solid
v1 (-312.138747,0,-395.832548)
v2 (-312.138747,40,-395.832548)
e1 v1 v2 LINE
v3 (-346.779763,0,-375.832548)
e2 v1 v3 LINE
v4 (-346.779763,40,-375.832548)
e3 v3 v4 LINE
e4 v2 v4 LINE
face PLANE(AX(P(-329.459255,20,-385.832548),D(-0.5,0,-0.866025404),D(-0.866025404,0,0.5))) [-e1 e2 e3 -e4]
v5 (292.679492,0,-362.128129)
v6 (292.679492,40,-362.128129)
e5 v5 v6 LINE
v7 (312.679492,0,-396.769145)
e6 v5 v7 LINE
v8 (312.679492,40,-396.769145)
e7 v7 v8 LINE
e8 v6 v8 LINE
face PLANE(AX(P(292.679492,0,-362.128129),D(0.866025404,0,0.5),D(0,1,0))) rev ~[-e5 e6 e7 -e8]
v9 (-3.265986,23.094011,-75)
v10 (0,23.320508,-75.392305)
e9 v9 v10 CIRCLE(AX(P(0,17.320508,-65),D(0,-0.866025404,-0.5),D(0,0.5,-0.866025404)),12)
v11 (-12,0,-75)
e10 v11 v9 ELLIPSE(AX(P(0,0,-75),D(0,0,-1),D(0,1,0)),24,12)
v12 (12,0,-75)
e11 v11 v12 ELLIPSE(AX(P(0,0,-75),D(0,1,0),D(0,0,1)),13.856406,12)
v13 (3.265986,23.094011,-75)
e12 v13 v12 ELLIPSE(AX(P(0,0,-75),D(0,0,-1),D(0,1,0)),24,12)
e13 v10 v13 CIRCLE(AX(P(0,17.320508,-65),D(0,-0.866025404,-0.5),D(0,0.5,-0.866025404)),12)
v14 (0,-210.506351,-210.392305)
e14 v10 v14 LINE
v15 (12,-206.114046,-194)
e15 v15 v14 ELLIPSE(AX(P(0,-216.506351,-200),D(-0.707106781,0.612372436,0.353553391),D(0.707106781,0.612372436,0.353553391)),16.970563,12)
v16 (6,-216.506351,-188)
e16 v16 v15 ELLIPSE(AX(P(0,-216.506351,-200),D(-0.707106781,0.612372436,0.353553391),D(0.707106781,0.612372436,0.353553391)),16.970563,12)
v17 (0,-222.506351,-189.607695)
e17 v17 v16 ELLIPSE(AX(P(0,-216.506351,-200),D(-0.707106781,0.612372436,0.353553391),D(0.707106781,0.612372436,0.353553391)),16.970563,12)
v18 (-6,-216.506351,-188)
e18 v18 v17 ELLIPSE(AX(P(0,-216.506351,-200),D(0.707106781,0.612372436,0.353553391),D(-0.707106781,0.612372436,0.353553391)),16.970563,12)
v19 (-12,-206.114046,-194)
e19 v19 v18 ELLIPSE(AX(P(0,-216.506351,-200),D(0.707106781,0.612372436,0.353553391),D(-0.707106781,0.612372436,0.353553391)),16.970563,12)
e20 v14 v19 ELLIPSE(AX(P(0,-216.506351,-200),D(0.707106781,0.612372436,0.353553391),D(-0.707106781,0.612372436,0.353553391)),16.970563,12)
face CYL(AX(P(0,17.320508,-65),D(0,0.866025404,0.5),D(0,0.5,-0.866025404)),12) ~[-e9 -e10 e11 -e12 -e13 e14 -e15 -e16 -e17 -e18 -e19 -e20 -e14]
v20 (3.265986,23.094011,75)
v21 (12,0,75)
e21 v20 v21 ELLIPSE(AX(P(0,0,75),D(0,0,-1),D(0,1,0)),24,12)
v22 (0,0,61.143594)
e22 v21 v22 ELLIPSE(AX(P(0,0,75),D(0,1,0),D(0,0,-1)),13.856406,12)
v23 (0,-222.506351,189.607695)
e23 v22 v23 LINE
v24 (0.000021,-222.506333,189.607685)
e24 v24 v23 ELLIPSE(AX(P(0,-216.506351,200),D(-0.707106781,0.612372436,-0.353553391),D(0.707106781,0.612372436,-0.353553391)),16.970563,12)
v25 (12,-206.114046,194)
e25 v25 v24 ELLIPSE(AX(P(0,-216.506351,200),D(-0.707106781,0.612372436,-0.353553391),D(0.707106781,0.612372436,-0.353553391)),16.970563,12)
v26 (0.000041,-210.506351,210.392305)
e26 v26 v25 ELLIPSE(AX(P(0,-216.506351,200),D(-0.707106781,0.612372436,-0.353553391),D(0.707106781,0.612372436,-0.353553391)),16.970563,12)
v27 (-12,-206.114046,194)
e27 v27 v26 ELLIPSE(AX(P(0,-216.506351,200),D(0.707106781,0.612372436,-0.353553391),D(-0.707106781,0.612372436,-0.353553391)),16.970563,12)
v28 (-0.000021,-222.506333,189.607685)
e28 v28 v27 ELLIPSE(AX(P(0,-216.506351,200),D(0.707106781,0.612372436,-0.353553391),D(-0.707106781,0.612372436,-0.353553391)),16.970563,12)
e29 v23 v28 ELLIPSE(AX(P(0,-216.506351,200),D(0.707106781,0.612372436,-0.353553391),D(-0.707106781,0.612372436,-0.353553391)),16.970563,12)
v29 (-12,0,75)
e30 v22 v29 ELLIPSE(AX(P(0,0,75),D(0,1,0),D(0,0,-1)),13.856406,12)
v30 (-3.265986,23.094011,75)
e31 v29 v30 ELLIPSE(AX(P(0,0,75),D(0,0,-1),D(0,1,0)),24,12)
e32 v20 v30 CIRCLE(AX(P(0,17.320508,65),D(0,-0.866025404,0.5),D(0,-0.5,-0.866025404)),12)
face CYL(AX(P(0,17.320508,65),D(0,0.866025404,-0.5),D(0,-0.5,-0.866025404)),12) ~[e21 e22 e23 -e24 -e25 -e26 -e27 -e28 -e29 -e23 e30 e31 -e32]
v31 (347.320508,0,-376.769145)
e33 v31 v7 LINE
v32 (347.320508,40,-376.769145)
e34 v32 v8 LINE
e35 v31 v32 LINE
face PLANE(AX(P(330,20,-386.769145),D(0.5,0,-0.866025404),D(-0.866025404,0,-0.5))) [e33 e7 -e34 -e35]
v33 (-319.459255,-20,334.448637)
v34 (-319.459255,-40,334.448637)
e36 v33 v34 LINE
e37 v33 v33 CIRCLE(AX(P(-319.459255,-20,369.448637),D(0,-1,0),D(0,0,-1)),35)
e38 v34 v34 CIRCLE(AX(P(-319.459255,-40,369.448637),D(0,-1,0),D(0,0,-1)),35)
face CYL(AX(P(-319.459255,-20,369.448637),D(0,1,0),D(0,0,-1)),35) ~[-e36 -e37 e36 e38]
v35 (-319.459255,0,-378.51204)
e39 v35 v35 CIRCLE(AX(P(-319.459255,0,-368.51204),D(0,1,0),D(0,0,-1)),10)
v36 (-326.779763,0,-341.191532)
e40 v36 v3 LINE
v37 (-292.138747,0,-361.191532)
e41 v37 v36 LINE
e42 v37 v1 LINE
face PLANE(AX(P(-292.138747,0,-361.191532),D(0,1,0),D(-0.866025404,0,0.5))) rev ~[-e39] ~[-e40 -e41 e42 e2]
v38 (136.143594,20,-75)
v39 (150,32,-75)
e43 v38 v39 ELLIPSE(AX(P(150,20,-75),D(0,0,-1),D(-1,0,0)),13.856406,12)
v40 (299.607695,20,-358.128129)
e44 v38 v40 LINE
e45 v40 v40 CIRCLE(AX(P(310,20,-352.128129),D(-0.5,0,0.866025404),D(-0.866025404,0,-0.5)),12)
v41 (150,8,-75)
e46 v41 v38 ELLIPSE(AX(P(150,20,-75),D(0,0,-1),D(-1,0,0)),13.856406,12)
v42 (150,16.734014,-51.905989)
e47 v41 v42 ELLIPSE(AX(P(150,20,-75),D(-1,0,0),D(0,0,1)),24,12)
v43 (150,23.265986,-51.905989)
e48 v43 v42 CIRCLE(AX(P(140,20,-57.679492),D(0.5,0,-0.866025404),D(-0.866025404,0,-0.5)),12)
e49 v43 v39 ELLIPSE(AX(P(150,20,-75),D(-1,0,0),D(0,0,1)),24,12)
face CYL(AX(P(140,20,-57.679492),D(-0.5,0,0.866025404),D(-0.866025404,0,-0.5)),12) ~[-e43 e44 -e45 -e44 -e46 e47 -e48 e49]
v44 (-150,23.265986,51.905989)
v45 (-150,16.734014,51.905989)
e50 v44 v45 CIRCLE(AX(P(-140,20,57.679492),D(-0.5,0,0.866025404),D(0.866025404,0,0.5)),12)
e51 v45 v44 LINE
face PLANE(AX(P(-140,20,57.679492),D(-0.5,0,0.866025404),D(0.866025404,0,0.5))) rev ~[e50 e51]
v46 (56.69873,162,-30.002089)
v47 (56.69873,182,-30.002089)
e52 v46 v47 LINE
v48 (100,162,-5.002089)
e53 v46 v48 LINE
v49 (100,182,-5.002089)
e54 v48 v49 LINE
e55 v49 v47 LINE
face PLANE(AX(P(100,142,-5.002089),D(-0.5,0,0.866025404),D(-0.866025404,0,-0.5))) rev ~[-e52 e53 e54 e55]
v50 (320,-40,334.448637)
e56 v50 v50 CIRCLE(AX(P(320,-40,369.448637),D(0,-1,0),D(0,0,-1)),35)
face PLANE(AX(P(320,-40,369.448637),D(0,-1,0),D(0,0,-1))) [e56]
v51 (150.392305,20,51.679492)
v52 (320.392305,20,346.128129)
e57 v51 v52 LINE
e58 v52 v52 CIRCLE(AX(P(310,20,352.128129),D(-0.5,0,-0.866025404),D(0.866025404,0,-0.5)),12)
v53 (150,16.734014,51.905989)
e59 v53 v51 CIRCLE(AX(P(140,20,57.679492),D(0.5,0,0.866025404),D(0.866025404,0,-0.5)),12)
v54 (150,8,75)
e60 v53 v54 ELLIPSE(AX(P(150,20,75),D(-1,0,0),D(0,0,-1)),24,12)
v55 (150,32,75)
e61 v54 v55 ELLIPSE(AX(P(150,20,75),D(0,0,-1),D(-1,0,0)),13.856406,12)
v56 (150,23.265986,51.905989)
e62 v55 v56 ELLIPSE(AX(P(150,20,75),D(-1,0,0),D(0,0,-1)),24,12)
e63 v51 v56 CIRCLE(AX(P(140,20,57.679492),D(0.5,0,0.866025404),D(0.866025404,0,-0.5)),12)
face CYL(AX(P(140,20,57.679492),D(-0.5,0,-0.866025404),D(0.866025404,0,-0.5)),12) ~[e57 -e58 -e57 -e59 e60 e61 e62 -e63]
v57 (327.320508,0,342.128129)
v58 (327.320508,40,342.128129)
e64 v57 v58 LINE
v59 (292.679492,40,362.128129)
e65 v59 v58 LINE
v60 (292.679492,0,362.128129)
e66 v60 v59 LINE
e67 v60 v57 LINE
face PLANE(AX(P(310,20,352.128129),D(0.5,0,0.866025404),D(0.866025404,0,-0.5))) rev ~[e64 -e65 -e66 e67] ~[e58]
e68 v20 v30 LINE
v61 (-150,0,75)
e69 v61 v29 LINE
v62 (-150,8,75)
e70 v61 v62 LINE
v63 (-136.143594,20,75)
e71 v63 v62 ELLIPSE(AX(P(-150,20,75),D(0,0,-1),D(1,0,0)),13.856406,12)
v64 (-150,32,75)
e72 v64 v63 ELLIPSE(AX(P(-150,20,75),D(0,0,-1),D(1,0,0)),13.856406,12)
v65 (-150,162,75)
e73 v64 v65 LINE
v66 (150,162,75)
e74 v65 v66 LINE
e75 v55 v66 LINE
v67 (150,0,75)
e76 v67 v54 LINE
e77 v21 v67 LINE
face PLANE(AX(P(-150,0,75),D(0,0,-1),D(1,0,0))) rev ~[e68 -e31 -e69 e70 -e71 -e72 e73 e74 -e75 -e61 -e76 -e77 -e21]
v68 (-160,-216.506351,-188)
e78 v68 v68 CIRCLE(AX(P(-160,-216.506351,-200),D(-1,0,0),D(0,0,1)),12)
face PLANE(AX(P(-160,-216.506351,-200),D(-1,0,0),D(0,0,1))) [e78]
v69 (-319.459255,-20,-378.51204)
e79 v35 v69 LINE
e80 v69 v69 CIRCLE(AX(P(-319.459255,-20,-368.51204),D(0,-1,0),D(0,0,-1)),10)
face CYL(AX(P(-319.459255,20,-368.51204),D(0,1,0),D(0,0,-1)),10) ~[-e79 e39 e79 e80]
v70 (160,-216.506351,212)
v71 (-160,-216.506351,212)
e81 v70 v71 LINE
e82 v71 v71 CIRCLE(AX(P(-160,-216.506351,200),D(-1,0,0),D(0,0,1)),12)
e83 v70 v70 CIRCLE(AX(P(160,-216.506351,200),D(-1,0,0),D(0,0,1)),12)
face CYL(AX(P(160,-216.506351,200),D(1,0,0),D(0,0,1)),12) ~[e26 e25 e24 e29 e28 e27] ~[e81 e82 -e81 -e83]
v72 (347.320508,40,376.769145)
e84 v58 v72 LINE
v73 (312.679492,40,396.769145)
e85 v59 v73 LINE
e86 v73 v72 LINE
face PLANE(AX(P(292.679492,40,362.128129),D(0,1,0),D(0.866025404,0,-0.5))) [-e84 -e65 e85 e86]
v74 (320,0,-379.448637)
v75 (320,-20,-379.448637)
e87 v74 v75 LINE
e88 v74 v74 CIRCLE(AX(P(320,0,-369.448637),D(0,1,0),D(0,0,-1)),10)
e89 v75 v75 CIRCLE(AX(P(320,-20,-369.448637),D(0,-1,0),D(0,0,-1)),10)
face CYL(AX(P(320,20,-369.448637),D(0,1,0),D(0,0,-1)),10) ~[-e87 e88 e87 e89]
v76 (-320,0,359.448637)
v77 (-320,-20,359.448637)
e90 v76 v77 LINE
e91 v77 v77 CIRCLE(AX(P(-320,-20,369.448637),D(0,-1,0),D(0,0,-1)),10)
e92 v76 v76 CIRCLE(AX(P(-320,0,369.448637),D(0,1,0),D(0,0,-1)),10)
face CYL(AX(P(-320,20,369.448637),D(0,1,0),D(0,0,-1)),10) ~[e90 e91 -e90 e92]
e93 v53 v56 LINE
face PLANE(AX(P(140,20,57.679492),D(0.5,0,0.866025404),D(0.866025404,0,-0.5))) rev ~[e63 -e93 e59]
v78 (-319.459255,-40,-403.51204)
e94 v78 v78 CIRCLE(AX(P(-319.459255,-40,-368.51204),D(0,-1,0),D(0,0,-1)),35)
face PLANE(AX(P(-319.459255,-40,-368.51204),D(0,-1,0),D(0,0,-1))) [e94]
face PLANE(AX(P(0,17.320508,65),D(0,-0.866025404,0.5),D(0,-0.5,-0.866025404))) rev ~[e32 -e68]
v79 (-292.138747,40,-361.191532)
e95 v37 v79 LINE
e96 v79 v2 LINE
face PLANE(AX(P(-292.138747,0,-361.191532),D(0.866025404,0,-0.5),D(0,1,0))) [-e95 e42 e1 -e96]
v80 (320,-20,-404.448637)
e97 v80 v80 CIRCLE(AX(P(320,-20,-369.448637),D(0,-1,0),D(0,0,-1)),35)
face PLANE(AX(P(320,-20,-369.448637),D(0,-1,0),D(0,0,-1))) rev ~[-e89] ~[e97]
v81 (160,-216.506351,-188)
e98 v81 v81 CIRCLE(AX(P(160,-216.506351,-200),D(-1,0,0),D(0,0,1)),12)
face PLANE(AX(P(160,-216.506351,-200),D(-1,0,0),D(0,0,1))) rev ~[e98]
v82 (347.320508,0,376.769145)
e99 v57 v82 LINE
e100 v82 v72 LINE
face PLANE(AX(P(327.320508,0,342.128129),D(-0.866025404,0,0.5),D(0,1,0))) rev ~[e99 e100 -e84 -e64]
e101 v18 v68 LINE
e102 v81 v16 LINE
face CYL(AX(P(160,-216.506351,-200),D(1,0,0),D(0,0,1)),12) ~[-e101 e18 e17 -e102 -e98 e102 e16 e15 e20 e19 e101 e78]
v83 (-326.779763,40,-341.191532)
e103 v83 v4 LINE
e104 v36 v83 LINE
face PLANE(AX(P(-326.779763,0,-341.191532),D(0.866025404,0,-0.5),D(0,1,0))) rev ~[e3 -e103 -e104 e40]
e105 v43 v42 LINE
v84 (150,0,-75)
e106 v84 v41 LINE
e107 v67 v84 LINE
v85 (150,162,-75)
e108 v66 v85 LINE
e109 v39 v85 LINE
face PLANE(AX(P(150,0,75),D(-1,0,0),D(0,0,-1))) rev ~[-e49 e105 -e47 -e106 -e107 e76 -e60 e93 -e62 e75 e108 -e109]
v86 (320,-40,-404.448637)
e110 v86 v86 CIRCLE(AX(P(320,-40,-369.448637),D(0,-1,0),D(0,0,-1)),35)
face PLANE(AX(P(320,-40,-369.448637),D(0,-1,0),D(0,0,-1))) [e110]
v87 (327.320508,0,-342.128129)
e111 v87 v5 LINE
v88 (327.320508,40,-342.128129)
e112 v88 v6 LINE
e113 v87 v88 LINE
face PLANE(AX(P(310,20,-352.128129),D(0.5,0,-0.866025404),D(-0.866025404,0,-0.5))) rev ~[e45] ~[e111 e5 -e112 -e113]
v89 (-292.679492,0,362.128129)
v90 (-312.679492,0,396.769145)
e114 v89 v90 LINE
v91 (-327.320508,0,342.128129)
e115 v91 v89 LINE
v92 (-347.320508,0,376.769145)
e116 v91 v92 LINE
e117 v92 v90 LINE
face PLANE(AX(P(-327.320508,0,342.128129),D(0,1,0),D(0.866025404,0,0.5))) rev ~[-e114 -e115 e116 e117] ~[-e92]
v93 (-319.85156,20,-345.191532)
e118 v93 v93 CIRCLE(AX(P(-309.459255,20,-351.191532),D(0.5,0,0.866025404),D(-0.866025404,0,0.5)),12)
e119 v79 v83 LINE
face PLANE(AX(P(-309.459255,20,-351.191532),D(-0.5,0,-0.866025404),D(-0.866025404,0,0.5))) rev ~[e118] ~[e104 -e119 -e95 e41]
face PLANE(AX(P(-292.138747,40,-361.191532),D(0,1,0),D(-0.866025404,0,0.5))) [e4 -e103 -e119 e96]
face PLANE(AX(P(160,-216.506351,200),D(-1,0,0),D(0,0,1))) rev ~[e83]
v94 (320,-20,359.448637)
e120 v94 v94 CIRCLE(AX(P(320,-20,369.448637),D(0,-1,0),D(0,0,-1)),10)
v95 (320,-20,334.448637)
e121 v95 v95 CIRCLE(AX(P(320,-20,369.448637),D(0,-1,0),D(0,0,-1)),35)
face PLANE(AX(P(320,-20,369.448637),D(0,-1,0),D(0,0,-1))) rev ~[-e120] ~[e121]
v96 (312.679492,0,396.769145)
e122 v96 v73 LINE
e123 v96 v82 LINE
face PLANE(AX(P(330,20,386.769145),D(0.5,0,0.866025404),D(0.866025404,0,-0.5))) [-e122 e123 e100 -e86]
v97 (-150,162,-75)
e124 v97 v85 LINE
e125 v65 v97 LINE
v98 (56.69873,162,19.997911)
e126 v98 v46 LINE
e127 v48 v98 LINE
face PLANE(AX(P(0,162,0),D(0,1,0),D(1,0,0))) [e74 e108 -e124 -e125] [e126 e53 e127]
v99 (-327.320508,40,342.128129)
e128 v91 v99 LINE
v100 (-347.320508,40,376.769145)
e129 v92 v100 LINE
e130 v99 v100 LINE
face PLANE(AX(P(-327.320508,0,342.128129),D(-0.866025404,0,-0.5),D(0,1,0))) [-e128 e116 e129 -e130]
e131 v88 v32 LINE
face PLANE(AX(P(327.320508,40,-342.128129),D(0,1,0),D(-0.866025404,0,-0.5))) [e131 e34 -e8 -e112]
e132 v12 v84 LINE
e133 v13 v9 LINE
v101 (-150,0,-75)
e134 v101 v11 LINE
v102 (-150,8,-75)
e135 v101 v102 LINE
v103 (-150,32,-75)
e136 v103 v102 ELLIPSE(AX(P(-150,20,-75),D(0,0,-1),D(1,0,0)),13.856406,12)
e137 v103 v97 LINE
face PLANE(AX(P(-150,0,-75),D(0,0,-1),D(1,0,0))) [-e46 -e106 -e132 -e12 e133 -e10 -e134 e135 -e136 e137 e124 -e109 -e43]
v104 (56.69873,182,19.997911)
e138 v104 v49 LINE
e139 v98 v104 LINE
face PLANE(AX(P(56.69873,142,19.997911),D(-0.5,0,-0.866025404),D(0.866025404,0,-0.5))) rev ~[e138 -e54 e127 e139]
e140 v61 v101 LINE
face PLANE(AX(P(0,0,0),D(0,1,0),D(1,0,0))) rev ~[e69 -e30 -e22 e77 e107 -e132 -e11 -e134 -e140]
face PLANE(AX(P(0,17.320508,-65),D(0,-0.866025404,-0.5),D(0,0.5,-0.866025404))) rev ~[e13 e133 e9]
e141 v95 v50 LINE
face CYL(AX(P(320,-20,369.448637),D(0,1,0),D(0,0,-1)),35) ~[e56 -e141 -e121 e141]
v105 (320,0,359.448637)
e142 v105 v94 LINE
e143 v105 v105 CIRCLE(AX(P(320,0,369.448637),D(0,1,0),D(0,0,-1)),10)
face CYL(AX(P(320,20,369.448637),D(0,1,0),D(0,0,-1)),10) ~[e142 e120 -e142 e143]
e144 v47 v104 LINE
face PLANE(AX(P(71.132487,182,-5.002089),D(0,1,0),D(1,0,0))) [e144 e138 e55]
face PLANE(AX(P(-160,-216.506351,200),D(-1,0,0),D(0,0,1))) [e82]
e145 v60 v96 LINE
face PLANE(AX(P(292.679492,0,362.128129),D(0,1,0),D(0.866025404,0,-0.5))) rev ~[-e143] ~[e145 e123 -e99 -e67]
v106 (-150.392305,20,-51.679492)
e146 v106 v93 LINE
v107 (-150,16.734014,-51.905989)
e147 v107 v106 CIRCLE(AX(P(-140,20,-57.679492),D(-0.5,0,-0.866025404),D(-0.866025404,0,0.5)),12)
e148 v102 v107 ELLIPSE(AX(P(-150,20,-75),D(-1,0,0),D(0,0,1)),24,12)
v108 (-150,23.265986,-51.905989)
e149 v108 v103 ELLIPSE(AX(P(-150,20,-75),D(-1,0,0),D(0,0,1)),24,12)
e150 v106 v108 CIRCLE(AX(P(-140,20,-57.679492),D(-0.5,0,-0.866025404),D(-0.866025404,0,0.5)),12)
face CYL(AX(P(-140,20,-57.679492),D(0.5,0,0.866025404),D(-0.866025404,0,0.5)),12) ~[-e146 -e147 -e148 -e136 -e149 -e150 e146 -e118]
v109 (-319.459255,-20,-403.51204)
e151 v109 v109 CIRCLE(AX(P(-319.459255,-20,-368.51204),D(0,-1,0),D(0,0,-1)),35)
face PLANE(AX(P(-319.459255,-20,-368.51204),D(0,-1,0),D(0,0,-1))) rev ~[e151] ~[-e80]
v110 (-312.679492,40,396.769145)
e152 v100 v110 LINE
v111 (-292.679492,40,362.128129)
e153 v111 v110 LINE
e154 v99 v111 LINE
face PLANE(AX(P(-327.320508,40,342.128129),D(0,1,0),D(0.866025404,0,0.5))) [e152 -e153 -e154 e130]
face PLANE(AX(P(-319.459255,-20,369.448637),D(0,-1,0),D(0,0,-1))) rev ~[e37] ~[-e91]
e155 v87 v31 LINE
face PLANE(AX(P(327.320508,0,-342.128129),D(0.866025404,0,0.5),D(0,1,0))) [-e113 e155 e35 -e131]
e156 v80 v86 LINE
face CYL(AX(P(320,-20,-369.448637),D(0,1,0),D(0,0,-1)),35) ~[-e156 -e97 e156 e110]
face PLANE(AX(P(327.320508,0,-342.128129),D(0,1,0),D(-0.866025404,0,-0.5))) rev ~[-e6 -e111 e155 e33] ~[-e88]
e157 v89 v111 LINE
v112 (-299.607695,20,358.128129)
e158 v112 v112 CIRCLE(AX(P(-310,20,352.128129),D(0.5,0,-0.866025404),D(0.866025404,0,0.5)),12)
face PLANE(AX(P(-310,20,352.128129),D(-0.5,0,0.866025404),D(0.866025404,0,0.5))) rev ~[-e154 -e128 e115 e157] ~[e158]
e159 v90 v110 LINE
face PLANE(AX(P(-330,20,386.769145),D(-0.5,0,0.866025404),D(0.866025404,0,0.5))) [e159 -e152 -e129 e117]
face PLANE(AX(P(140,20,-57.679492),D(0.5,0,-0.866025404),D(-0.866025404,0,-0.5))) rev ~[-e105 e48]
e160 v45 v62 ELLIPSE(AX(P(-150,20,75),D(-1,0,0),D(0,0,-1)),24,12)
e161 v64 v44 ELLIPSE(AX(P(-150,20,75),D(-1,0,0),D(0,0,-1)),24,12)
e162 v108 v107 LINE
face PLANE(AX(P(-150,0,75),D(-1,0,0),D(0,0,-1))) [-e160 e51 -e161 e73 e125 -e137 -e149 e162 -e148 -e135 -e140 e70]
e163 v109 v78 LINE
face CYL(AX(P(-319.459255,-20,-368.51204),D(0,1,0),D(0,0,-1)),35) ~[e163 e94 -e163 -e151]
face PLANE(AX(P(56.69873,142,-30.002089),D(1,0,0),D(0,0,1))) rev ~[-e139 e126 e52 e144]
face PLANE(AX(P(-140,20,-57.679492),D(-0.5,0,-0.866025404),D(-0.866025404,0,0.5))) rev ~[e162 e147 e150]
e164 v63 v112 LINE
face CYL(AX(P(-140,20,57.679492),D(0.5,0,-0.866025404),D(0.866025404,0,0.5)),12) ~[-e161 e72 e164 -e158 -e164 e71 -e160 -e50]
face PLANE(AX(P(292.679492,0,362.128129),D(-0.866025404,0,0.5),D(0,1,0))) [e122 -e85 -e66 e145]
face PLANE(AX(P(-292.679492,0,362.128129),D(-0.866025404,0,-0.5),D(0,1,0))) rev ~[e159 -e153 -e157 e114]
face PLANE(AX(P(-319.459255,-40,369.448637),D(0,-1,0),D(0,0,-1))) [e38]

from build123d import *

# Parameters (mm, degrees)
SKETCH_9_W            = 300
SKETCH_9_H            = 150
EXTRUDE_2_DEPTH       = 162
EXTRUDE_3_DEPTH       = 340
EXTRUDE_3_DEPTH_BACK  = 20
SKETCH_10_R           = 12
EXTRUDE_4_DEPTH       = 338.918510241
EXTRUDE_4_DEPTH_BACK  = 20
SKETCH_11_R           = 12
EXTRUDE_5_DEPTH       = 340
EXTRUDE_5_DEPTH_BACK  = 20
SKETCH_13_R           = 12
EXTRUDE_6_DEPTH       = 340
EXTRUDE_6_DEPTH_BACK  = 20
SKETCH_12_R           = 12
EXTRUDE_7_DEPTH       = 20
EXTRUDE_7_DEPTH_BACK  = 20
SKETCH_14_W           = 40
SKETCH_14_H           = 40
EXTRUDE_8_DEPTH       = 20
EXTRUDE_8_DEPTH_BACK  = 20
SKETCH_17_W           = 40
SKETCH_17_H           = 40
EXTRUDE_9_DEPTH       = 20
EXTRUDE_9_DEPTH_BACK  = 20
SKETCH_18_W           = 40
SKETCH_18_H           = 40
EXTRUDE_10_DEPTH      = 20
EXTRUDE_10_DEPTH_BACK = 20
SKETCH_20_W           = 40
SKETCH_20_H           = 40
EXTRUDE_11_DEPTH      = 20
EXTRUDE_11_DEPTH_BACK = 20
SKETCH_21_R           = 10
SKETCH_22_R           = 35
EXTRUDE_12_DEPTH      = 20
EXTRUDE_13_DEPTH      = 250
EXTRUDE_13_DEPTH_BACK = 20
SKETCH_23_R           = 12
EXTRUDE_14_DEPTH      = 250
EXTRUDE_14_DEPTH_BACK = 20
SKETCH_24_R           = 12
EXTRUDE_15_DEPTH      = 20
EXTRUDE_15_DEPTH_BACK = 20
EXTRUDE_16_DEPTH      = 160
EXTRUDE_16_DEPTH_BACK = 160
SKETCH_29_R           = 12


with BuildPart() as part:
    # 草图9 → 凸台-拉伸2 (new body)
    with BuildSketch(Plane(origin=(0, 0, 0), x_dir=(1, 0, 0), z_dir=(0, 1, 0))):
        Rectangle(SKETCH_9_W, SKETCH_9_H)
    extrude(amount=EXTRUDE_2_DEPTH)

    # 草图10 → 凸台-拉伸3 (add, two sides: drawn at the far end of the back side and taken through both)
    with BuildSketch(Plane(origin=(-69.975952642, 0, 121.201905284), x_dir=(0, -1, 0), z_dir=(-0.500000000000001, 0, 0.866025403784438)).offset(-EXTRUDE_3_DEPTH_BACK)):
        with Locations(Location((-20, -92.403810568, 0), (0, 0, 90))):
            Circle(SKETCH_10_R)
    extrude(amount=EXTRUDE_3_DEPTH + EXTRUDE_3_DEPTH_BACK)

    # 草图11 → 凸台-拉伸4 (add, two sides: drawn at the far end of the back side and taken through both)
    with BuildSketch(Plane(origin=(-69.975952642, 0, -121.201905284), x_dir=(0, -1, 0), z_dir=(-0.5000000000000011, 0, -0.866025403784438)).offset(-EXTRUDE_4_DEPTH_BACK)):
        with Locations(Location((-20, 92.403810568, 0), (0, 0, 90))):
            Circle(SKETCH_11_R)
    extrude(amount=EXTRUDE_4_DEPTH + EXTRUDE_4_DEPTH_BACK)

    # 草图13 → 凸台-拉伸5 (add, two sides: drawn at the far end of the back side and taken through both)
    with BuildSketch(Plane(origin=(69.975952642, 0, 121.201905284), x_dir=(0, -1, 0), z_dir=(0.5000000000000011, 0, 0.866025403784438)).offset(-EXTRUDE_5_DEPTH_BACK)):
        with Locations(Location((-20, 92.403810568, 0), (0, 0, 90))):
            Circle(SKETCH_13_R)
    extrude(amount=EXTRUDE_5_DEPTH + EXTRUDE_5_DEPTH_BACK)

    # 草图12 → 凸台-拉伸6 (add, two sides: drawn at the far end of the back side and taken through both)
    with BuildSketch(Plane(origin=(69.975952642, 0, -121.201905284), x_dir=(0, -1, 0), z_dir=(0.5000000000000009, 0, -0.866025403784438)).offset(-EXTRUDE_6_DEPTH_BACK)):
        with Locations(Location((-20, -92.403810568, 0), (0, 0, 90))):
            Circle(SKETCH_12_R)
    extrude(amount=EXTRUDE_6_DEPTH + EXTRUDE_6_DEPTH_BACK)

    # 草图14 → 凸台-拉伸7 (add, two sides: drawn at the far end of the back side and taken through both)
    with BuildSketch(Plane(origin=(-239.975952642, 0, 415.650542571), x_dir=(0.8660254037844382, 0, 0.500000000000001), z_dir=(-0.500000000000001, 0, 0.8660254037844382)).offset(-EXTRUDE_7_DEPTH_BACK)):
        with Locations((-92.403810568, 20)):
            Rectangle(SKETCH_14_W, SKETCH_14_H)
    extrude(amount=EXTRUDE_7_DEPTH + EXTRUDE_7_DEPTH_BACK)

    # 草图17 → 凸台-拉伸8 (add, two sides: drawn at the far end of the back side and taken through both)
    with BuildSketch(Plane(origin=(-239.435207762, 0, -414.713944965), x_dir=(-0.866025403784438, 0, 0.5000000000000012), z_dir=(-0.5000000000000011, 0, -0.8660254037844379)).offset(-EXTRUDE_8_DEPTH_BACK)):
        with Locations((92.403810568, 20)):
            Rectangle(SKETCH_17_W, SKETCH_17_H)
    extrude(amount=EXTRUDE_8_DEPTH + EXTRUDE_8_DEPTH_BACK)

    # 草图18 → 凸台-拉伸9 (add, two sides: drawn at the far end of the back side and taken through both)
    with BuildSketch(Plane(origin=(239.975952642, 0, -415.650542571), x_dir=(-0.866025403784438, 0, -0.5000000000000012), z_dir=(0.5000000000000011, 0, -0.8660254037844379)).offset(-EXTRUDE_9_DEPTH_BACK)):
        with Locations((-92.403810568, 20)):
            Rectangle(SKETCH_18_W, SKETCH_18_H)
    extrude(amount=EXTRUDE_9_DEPTH + EXTRUDE_9_DEPTH_BACK)

    # 草图20 → 凸台-拉伸10 (add, two sides: drawn at the far end of the back side and taken through both)
    with BuildSketch(Plane(origin=(239.975952642, 0, 415.650542571), x_dir=(0.866025403784438, 0, -0.5000000000000012), z_dir=(0.5000000000000011, 0, 0.8660254037844379)).offset(-EXTRUDE_10_DEPTH_BACK)):
        with Locations((92.403810568, 20)):
            Rectangle(SKETCH_20_W, SKETCH_20_H)
    extrude(amount=EXTRUDE_10_DEPTH + EXTRUDE_10_DEPTH_BACK)

    # 草图21 → 凸台-拉伸11 (add, two sides: drawn at the far end of the back side and taken through both)
    with BuildSketch(Plane.XZ.offset(-EXTRUDE_11_DEPTH_BACK)):
        with Locations(Location((-320, 369.448637287, 0), (0, 0, 270))):
            Circle(SKETCH_21_R)
        with Locations(Location((-319.45925512, -368.512039681, 0), (0, 0, 270))):
            Circle(SKETCH_21_R)
        with Locations(Location((320, -369.448637287, 0), (0, 0, 270))):
            Circle(SKETCH_21_R)
        with Locations(Location((320, 369.448637287, 0), (0, 0, 270))):
            Circle(SKETCH_21_R)
    extrude(amount=EXTRUDE_11_DEPTH + EXTRUDE_11_DEPTH_BACK)

    # 草图22 → 凸台-拉伸12 (add)
    with BuildSketch(Plane.XZ.offset(20)):
        with Locations(Location((-319.45925512, -368.512039681, 0), (0, 0, 270))):
            Circle(SKETCH_22_R)
        with Locations(Location((320, -369.448637287, 0), (0, 0, 270))):
            Circle(SKETCH_22_R)
        with Locations(Location((320, 369.448637287, 0), (0, 0, 270))):
            Circle(SKETCH_22_R)
        with Locations(Location((-319.45925512, 369.448637287, 0), (0, 0, 270))):
            Circle(SKETCH_22_R)
    extrude(amount=EXTRUDE_12_DEPTH)

    # 草图23 → 凸台-拉伸13 (add, two sides: drawn at the far end of the back side and taken through both)
    with BuildSketch(Plane(origin=(0, -32.475952642, 18.75), x_dir=(1, 0, 0), z_dir=(0, -0.866025403784438, 0.500000000000001)).offset(-EXTRUDE_13_DEPTH_BACK)):
        with Locations(Location((0, 64.951905284, 0), (0, 0, 270))):
            Circle(SKETCH_23_R)
    extrude(amount=EXTRUDE_13_DEPTH + EXTRUDE_13_DEPTH_BACK)

    # 草图24 → 凸台-拉伸14 (add, two sides: drawn at the far end of the back side and taken through both)
    with BuildSketch(Plane(origin=(0, -32.475952642, -18.75), x_dir=(-1, 0, 0), z_dir=(0, -0.866025403784438, -0.500000000000001)).offset(-EXTRUDE_14_DEPTH_BACK)):
        with Locations(Location((0, 64.951905284, 0), (0, 0, 90))):
            Circle(SKETCH_24_R)
    extrude(amount=EXTRUDE_14_DEPTH + EXTRUDE_14_DEPTH_BACK)

    # 草图26 → 凸台-拉伸15 (add, two sides: drawn at the far end of the back side and taken through both)
    with BuildSketch(Plane(origin=(0, 162, 0), x_dir=(1, 0, 0), z_dir=(0, 1, 0)).offset(-EXTRUDE_15_DEPTH_BACK)):
        Polygon((100, 5.002088535), (56.698729811, 30.002088535), (56.698729811, -19.997911465), align=None)
    extrude(amount=EXTRUDE_15_DEPTH + EXTRUDE_15_DEPTH_BACK)

    # 草图29 → 凸台-拉伸16 (add, two sides: drawn at the far end of the back side and taken through both)
    with BuildSketch(Plane.ZY.offset(-EXTRUDE_16_DEPTH_BACK)):
        with Locations((-200, -216.506350946)):
            Circle(SKETCH_29_R)
        with Locations((200, -216.506350946)):
            Circle(SKETCH_29_R)
    extrude(amount=EXTRUDE_16_DEPTH + EXTRUDE_16_DEPTH_BACK)


solid = part.part
